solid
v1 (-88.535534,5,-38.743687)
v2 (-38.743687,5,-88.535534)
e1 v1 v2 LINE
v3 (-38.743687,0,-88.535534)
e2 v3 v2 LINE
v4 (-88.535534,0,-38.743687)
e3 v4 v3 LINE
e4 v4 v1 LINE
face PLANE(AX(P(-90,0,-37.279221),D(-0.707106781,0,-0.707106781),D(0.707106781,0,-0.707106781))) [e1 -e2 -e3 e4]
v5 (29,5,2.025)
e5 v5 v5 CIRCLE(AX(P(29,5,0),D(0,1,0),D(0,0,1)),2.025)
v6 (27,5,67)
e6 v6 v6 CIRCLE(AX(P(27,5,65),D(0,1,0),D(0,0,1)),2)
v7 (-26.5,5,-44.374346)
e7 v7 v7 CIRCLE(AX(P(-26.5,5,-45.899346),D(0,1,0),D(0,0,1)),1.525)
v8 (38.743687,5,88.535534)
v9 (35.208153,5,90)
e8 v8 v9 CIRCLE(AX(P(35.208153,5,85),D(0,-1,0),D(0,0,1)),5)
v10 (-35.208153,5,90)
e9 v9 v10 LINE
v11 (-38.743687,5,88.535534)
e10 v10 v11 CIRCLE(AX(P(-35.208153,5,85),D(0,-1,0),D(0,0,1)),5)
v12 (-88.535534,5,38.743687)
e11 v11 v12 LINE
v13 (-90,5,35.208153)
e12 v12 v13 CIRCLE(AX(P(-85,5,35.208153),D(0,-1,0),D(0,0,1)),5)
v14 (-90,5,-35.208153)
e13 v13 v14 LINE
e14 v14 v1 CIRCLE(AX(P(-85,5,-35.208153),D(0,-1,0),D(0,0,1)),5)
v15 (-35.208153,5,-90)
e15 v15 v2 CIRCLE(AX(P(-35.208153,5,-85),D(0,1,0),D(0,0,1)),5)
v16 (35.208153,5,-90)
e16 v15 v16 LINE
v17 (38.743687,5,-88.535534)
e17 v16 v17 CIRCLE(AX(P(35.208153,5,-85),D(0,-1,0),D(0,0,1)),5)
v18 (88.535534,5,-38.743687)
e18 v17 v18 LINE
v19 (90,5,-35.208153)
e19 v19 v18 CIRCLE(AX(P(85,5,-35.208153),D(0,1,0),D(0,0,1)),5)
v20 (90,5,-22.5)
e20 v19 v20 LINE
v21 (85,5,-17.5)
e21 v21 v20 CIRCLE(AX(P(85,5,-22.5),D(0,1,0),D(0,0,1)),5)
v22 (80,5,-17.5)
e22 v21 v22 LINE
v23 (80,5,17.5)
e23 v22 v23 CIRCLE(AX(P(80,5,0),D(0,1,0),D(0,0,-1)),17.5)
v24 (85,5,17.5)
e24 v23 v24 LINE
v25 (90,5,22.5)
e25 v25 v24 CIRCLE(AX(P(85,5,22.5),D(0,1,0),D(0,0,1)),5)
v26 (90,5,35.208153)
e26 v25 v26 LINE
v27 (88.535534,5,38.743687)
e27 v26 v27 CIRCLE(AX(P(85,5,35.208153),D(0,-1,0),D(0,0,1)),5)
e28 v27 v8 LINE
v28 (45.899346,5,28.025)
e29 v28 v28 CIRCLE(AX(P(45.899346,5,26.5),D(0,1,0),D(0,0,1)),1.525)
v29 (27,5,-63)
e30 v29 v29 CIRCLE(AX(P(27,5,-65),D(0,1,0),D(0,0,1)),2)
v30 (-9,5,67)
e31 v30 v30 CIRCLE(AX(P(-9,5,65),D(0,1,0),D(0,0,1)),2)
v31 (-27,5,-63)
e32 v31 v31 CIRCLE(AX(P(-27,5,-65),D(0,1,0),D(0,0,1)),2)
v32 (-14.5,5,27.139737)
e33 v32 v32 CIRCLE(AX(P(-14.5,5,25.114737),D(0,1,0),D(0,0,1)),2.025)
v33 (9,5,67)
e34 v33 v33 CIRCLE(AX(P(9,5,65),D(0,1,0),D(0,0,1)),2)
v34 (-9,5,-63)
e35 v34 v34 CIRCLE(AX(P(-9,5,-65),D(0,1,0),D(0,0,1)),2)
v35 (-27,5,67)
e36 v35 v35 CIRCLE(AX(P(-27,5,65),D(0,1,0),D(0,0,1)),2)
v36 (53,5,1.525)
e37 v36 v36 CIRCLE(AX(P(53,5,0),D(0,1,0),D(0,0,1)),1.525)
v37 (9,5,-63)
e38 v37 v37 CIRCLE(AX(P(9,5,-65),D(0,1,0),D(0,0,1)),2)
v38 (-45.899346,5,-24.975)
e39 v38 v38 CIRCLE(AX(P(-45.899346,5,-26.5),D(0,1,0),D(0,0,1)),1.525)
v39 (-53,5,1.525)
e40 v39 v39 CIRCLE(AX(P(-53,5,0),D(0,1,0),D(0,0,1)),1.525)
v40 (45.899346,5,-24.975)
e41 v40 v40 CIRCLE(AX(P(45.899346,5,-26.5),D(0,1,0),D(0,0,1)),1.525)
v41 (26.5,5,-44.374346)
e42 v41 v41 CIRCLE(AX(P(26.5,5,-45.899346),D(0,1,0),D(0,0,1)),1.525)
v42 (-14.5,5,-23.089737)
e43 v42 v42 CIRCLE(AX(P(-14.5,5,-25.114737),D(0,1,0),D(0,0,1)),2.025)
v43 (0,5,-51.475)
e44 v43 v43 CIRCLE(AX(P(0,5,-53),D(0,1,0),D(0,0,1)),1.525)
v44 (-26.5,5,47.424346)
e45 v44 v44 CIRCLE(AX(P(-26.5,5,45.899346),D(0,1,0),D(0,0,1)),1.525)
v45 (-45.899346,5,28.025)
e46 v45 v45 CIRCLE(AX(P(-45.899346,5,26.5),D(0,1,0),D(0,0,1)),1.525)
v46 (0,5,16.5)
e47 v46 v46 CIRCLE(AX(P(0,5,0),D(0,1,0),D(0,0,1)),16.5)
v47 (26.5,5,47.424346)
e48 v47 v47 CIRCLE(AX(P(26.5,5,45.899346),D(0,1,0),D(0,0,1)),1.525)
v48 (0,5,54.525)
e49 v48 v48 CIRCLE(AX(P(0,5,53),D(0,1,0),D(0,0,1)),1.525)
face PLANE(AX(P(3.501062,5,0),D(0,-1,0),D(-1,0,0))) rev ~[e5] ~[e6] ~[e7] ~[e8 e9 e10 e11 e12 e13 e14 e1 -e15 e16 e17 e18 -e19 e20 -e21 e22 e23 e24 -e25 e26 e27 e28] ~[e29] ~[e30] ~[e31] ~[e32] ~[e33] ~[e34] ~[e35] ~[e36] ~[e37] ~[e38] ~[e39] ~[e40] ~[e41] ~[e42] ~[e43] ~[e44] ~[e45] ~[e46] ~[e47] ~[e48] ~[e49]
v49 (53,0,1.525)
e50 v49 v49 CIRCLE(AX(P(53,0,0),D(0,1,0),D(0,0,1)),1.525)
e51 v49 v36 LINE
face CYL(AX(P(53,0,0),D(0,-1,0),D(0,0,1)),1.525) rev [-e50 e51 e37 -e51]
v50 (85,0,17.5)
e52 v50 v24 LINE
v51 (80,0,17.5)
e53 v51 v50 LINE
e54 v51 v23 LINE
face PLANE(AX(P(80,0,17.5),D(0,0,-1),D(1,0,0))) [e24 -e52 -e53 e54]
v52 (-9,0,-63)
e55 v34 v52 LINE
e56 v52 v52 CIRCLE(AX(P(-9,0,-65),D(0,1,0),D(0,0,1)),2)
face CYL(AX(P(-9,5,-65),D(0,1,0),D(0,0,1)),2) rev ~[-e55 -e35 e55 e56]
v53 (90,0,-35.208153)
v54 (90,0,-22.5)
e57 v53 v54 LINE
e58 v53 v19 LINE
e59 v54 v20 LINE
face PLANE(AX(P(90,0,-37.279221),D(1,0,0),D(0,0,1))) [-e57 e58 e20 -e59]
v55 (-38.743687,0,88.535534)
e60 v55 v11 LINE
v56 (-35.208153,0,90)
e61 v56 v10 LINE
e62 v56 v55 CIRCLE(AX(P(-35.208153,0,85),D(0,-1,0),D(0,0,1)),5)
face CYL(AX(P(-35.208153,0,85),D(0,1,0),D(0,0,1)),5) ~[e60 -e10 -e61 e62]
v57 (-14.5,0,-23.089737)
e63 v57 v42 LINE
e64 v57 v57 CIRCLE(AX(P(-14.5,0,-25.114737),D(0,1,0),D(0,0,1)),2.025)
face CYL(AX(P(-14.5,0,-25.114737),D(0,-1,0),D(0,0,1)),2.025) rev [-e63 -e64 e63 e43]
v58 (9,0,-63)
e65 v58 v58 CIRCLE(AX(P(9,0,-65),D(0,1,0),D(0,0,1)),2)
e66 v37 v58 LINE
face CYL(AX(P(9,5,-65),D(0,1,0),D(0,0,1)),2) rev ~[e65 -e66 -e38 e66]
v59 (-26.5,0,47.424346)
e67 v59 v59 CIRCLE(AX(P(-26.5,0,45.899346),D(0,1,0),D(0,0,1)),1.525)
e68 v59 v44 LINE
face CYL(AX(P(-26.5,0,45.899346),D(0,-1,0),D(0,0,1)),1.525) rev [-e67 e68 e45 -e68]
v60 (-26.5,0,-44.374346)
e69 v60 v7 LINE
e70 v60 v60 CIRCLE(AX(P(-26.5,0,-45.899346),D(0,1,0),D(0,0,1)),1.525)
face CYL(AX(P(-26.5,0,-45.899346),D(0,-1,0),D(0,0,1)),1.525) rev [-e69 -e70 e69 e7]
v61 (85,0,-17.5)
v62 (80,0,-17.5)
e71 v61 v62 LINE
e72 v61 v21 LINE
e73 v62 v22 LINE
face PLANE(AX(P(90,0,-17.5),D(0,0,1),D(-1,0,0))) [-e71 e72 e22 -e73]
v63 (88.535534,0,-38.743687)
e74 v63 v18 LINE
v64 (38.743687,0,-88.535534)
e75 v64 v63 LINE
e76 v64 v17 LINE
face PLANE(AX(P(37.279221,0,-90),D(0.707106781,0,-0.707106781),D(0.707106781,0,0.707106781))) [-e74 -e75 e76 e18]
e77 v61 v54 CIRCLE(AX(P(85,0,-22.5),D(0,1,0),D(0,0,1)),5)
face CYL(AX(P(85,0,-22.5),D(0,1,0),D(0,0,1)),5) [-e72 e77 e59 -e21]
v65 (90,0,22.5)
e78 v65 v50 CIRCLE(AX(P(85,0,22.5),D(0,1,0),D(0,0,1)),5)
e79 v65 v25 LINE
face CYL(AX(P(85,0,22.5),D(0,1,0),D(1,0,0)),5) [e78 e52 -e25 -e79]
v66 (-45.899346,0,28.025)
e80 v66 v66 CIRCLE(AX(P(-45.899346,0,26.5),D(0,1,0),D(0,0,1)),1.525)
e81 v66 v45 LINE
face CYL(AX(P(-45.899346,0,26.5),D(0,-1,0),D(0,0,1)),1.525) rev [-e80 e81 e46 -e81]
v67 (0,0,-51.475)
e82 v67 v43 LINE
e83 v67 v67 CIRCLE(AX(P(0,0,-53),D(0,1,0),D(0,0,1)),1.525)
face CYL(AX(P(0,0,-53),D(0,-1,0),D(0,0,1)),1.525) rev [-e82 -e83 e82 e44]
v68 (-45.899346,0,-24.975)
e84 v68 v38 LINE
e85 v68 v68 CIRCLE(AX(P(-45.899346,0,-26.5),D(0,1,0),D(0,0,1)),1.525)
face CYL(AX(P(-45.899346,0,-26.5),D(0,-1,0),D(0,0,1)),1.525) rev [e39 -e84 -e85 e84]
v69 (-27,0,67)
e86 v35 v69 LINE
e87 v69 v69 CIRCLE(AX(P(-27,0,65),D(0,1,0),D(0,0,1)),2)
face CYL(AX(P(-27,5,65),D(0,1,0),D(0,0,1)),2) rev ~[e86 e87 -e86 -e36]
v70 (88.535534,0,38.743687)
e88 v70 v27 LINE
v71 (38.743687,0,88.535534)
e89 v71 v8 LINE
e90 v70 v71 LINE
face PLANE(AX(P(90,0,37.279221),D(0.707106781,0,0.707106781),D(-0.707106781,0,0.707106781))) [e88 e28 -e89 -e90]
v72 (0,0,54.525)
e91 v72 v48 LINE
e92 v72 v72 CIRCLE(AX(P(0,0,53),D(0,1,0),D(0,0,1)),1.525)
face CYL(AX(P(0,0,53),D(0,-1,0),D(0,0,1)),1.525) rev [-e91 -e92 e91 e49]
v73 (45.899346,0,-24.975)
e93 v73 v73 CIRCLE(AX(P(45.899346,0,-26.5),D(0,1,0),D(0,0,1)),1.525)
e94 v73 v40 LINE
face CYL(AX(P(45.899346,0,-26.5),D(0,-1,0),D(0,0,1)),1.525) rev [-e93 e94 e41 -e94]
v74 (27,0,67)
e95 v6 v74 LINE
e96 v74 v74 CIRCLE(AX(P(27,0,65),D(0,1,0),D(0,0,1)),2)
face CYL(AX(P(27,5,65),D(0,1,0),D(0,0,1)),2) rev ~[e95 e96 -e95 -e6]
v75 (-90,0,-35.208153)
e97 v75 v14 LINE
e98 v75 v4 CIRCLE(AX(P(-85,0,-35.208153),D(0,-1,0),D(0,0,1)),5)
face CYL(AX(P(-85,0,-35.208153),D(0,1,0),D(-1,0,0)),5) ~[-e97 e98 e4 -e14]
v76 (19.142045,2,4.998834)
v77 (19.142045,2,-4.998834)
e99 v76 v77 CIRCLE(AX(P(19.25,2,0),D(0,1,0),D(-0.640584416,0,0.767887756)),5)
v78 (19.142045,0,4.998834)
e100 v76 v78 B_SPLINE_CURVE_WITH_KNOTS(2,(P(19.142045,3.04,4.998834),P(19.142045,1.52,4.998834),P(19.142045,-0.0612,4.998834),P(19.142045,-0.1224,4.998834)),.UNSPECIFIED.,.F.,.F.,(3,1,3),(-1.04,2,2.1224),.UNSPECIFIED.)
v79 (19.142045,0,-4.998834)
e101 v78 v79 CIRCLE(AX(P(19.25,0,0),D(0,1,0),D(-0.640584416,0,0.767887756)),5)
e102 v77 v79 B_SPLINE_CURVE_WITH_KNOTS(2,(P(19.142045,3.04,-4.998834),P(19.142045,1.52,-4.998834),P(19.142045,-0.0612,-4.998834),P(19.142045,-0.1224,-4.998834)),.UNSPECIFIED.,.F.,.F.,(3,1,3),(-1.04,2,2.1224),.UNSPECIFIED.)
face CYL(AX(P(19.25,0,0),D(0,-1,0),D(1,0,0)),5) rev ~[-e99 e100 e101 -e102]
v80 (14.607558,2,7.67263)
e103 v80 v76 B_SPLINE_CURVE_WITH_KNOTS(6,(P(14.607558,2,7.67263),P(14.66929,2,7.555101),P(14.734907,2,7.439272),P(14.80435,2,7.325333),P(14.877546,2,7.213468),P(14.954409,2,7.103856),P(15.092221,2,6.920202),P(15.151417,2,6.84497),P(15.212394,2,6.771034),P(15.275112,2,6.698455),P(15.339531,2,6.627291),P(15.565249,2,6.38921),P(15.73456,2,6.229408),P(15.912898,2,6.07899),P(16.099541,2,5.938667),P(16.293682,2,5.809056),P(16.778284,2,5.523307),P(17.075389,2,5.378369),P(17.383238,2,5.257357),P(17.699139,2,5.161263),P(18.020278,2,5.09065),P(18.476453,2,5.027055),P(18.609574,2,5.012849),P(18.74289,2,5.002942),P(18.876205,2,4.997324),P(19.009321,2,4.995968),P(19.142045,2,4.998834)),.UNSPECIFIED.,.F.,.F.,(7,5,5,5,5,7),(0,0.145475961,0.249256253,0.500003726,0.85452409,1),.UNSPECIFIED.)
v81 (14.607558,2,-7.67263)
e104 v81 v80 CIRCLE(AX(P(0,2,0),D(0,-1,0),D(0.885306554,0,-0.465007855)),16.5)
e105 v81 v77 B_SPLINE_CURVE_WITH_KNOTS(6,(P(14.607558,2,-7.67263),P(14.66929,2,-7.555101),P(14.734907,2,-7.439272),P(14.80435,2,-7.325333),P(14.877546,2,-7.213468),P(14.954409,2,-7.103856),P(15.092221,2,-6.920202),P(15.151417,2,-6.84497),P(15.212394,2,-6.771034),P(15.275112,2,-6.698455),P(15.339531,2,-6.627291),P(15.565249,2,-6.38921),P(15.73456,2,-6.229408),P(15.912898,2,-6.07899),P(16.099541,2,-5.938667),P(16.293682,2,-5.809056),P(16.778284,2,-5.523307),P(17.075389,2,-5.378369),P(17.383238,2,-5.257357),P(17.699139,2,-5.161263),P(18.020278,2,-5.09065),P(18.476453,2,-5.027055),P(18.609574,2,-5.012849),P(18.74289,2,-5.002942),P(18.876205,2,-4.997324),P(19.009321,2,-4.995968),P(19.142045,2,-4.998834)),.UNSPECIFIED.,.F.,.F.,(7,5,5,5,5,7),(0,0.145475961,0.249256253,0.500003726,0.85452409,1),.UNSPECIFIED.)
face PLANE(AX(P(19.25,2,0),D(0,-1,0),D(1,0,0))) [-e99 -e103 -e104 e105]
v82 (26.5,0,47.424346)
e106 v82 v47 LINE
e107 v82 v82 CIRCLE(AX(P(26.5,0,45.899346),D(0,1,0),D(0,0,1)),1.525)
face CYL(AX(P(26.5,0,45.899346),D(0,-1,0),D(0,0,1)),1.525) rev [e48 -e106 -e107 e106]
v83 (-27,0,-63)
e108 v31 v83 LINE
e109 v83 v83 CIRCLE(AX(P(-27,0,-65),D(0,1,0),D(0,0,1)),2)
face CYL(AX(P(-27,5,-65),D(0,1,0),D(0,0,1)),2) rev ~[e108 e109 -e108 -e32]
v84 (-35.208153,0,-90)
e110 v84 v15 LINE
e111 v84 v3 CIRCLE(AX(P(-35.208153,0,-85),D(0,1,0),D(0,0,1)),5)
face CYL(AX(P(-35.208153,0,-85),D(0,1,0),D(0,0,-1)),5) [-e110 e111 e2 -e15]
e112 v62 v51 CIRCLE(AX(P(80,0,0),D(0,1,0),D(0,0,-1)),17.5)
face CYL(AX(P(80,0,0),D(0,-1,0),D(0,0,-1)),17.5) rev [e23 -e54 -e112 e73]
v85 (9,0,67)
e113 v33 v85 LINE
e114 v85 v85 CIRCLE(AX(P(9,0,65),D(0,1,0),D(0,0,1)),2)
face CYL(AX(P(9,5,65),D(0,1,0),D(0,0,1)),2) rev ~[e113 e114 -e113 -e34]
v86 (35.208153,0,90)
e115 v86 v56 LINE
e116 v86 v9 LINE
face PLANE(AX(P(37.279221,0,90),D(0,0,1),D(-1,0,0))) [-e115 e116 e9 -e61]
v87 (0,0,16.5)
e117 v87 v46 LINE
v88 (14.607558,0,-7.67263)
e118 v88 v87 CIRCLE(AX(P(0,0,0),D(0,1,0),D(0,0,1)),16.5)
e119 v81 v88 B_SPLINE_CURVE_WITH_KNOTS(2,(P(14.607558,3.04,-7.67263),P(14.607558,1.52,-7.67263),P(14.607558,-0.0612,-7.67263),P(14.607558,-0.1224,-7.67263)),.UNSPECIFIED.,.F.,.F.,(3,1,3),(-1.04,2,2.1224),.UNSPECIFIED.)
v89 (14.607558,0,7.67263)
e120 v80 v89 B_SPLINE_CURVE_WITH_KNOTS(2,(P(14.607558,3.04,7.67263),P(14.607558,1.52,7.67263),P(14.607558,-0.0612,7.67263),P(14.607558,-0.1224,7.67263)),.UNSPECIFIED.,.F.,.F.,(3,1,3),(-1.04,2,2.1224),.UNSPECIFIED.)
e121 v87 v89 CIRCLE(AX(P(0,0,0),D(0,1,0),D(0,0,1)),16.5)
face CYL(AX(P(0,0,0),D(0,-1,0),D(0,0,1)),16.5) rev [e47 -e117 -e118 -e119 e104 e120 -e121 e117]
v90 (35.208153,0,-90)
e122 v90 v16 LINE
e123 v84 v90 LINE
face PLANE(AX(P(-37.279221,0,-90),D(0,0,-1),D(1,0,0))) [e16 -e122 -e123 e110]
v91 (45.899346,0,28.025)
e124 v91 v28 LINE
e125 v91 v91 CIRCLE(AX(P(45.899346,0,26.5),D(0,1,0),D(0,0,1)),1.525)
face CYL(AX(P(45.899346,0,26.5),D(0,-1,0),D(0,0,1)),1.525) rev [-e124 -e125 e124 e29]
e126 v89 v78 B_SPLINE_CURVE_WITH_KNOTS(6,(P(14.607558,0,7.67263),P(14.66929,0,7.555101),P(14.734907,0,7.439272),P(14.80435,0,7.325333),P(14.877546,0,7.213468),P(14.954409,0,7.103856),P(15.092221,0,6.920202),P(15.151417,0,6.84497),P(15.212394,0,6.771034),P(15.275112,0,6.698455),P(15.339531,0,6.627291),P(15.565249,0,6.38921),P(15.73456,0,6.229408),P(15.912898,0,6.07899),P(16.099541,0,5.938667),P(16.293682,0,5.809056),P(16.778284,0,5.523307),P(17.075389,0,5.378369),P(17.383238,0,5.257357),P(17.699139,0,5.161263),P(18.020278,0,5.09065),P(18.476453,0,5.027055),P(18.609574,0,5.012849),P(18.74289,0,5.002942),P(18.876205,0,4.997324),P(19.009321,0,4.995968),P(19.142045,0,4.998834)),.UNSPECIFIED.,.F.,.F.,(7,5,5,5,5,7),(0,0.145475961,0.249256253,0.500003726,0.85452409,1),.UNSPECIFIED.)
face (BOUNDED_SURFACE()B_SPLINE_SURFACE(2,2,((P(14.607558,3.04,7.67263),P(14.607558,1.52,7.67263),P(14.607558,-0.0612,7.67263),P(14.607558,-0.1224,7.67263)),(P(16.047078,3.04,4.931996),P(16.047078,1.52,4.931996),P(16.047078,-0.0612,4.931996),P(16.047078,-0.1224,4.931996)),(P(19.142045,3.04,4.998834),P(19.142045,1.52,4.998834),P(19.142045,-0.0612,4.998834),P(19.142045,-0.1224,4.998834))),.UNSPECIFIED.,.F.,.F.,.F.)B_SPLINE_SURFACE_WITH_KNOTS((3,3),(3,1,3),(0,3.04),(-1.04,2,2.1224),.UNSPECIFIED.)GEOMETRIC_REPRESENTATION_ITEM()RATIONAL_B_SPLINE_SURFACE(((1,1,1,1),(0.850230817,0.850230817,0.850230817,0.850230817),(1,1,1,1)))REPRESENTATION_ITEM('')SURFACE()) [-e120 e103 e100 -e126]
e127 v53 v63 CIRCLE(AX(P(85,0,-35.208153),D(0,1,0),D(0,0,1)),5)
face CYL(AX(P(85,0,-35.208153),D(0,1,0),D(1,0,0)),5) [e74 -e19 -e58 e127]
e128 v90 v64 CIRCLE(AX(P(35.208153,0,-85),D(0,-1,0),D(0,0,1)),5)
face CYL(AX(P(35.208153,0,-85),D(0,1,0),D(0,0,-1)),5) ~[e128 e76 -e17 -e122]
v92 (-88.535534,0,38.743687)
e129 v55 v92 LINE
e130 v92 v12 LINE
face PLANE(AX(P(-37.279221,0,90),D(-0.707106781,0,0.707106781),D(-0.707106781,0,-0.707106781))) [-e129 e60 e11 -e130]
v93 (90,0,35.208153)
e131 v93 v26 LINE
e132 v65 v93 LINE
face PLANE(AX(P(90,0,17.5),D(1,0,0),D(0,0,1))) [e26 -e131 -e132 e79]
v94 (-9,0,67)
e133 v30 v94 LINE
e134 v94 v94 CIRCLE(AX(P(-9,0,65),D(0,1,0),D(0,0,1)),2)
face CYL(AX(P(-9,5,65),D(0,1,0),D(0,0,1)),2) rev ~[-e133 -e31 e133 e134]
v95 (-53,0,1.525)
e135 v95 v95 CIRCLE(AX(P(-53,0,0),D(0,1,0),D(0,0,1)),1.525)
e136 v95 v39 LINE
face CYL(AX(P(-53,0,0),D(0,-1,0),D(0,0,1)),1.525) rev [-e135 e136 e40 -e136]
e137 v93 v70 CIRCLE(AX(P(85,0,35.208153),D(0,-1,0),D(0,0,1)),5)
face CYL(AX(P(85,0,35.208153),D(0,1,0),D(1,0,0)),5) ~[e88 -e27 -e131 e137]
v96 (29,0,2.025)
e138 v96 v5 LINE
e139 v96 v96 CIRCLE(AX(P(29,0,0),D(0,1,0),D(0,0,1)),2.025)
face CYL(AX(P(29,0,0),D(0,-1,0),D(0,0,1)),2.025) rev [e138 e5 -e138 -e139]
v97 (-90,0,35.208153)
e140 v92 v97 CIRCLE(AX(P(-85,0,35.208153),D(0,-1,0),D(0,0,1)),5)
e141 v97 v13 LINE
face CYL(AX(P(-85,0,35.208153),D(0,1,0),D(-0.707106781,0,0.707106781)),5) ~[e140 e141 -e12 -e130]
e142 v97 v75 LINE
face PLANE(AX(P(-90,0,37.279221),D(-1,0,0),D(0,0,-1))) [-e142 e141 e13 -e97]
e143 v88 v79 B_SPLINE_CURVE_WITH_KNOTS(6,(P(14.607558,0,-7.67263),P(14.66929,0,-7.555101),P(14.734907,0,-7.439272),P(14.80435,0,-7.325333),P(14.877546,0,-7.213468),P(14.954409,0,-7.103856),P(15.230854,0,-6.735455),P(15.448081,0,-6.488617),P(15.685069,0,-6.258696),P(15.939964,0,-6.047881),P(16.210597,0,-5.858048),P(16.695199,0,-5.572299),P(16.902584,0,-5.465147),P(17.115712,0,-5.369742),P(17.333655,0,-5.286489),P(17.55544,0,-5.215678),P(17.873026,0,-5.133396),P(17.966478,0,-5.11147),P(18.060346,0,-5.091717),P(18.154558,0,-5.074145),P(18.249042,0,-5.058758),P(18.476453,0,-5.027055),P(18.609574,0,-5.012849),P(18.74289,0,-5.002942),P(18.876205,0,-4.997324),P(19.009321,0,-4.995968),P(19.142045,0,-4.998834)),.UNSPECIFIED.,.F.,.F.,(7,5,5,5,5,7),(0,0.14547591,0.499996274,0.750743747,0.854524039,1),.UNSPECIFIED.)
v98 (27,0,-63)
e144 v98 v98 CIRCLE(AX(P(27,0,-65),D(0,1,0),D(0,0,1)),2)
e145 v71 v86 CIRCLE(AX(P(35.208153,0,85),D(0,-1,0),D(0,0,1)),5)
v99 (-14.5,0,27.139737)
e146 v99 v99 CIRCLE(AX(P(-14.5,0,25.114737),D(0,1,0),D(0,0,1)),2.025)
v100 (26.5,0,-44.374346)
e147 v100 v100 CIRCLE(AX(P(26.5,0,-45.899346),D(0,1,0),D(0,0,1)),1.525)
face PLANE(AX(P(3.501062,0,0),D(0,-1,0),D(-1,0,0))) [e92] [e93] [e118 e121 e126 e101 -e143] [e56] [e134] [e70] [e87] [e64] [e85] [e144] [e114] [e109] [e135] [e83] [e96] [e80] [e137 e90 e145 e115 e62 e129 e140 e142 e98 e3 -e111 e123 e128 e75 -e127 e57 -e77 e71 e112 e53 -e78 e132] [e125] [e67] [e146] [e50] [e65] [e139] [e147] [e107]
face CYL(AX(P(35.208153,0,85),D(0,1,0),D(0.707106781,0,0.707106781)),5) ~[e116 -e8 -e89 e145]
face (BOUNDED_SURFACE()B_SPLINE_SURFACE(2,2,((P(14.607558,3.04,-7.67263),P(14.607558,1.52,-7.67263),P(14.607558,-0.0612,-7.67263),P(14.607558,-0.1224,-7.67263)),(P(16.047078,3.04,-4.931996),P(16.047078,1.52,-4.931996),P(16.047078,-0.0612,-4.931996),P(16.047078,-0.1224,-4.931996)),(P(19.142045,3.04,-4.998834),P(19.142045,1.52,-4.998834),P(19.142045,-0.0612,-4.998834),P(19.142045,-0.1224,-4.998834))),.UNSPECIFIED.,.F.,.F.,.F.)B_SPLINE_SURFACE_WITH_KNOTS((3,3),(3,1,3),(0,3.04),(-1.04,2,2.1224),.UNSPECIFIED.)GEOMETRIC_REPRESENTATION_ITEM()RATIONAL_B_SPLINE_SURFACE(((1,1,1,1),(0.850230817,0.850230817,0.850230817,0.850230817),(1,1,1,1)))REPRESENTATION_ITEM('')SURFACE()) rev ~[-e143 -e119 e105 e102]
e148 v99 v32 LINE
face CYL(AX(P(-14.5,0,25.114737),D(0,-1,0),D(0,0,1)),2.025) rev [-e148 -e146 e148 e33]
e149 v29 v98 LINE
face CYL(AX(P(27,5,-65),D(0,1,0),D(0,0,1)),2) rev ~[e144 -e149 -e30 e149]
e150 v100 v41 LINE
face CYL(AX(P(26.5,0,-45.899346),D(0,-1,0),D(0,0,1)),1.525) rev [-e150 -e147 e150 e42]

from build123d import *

# Parameters (mm, degrees)
SKETCH_1_R          = 16.5
SKETCH_1_R_2        = 2.025
SKETCH_1_R_3        = 1.525
EXTRUDE_1_DEPTH     = 5
SKETCH_2_R          = 5
CUT_EXTRUDE_1_DEPTH = 2
FILLET_1_R          = 5
SKETCH_3_R          = 2
CUT_EXTRUDE_2_DEPTH = 10


with BuildPart() as part:
    # 草图1 → 凸台-拉伸1 (new body)
    with BuildSketch(Plane(origin=(0, 0, 0), x_dir=(1, 0, 0), z_dir=(0, 1, 0))):
        with BuildLine():
            Line((-37.279220614, 90), (37.279220614, 90))
            Line((37.279220614, 90), (90, 37.279220614))
            Line((90, 37.279220614), (90, 17.5))
            Line((90, 17.5), (80, 17.5))
            ThreePointArc((80, 17.5), (62.5, 0), (80, -17.5))
            Line((80, -17.5), (90, -17.5))
            Line((90, -17.5), (90, -37.279220614))
            Line((90, -37.279220614), (37.279220614, -90))
            Line((37.279220614, -90), (-37.279220614, -90))
            Line((-37.279220614, -90), (-90, -37.279220614))
            Line((-90, -37.279220614), (-90, 37.279220614))
            Line((-90, 37.279220614), (-37.279220614, 90))
        make_face()
        with Locations(Location((0, 0, 0), (0, 0, 270))):
            Circle(SKETCH_1_R, mode=Mode.SUBTRACT)
        with Locations(Location((29, 0, 0), (0, 0, 270))):
            Circle(SKETCH_1_R_2, mode=Mode.SUBTRACT)
        with Locations(Location((-14.5, -25.11473671, 0), (0, 0, 270))):
            Circle(SKETCH_1_R_2, mode=Mode.SUBTRACT)
        with Locations(Location((-14.5, 25.11473671, 0), (0, 0, 270))):
            Circle(SKETCH_1_R_2, mode=Mode.SUBTRACT)
        with Locations(Location((0, 53, 0), (0, 0, 270))):
            Circle(SKETCH_1_R_3, mode=Mode.SUBTRACT)
        with Locations(Location((26.5, 45.899346401, 0), (0, 0, 270))):
            Circle(SKETCH_1_R_3, mode=Mode.SUBTRACT)
        with Locations(Location((45.899346401, 26.5, 0), (0, 0, 270))):
            Circle(SKETCH_1_R_3, mode=Mode.SUBTRACT)
        with Locations(Location((53, 0, 0), (0, 0, 270))):
            Circle(SKETCH_1_R_3, mode=Mode.SUBTRACT)
        with Locations(Location((45.899346401, -26.5, 0), (0, 0, 270))):
            Circle(SKETCH_1_R_3, mode=Mode.SUBTRACT)
        with Locations(Location((26.5, -45.899346401, 0), (0, 0, 270))):
            Circle(SKETCH_1_R_3, mode=Mode.SUBTRACT)
        with Locations(Location((0, -53, 0), (0, 0, 270))):
            Circle(SKETCH_1_R_3, mode=Mode.SUBTRACT)
        with Locations(Location((-26.5, -45.899346401, 0), (0, 0, 270))):
            Circle(SKETCH_1_R_3, mode=Mode.SUBTRACT)
        with Locations(Location((-45.899346401, -26.5, 0), (0, 0, 270))):
            Circle(SKETCH_1_R_3, mode=Mode.SUBTRACT)
        with Locations(Location((-53, 0, 0), (0, 0, 270))):
            Circle(SKETCH_1_R_3, mode=Mode.SUBTRACT)
        with Locations(Location((-45.899346401, 26.5, 0), (0, 0, 270))):
            Circle(SKETCH_1_R_3, mode=Mode.SUBTRACT)
        with Locations(Location((-26.5, 45.899346401, 0), (0, 0, 270))):
            Circle(SKETCH_1_R_3, mode=Mode.SUBTRACT)
    extrude(amount=EXTRUDE_1_DEPTH)

    # 草图2 → 切除-拉伸1 (cut)
    with BuildSketch(Plane.XZ):
        with Locations((19.25, 0)):
            Circle(SKETCH_2_R)
    extrude(amount=-CUT_EXTRUDE_1_DEPTH, mode=Mode.SUBTRACT)

    # 圆角1
    fillet_1_edges = [part.edges().sort_by_distance(p)[0] for p in [
        (16.047077922, 1, -3.839438782),
        (16.047077922, 1, 3.839438782),
        (-37.279220614, 2.5, -90),
        (37.279220614, 2.5, -90),
        (90, 2.5, -37.279220614),
        (90, 2.5, -17.5),
        (90, 2.5, 17.5),
        (90, 2.5, 37.279220614),
        (37.279220614, 2.5, 90),
        (-37.279220614, 2.5, 90),
        (-90, 2.5, 37.279220614),
        (-90, 2.5, -37.279220614),
    ]]
    fillet(fillet_1_edges, radius=FILLET_1_R)

    # 草图3 → 切除-拉伸2 (cut)
    with BuildSketch(Plane(origin=(0, 5, 0), x_dir=(1, 0, 0), z_dir=(0, 1, 0))):
        with Locations(Location((27, -65, 0), (0, 0, 270))):
            Circle(SKETCH_3_R)
        with Locations(Location((9, -65, 0), (0, 0, 270))):
            Circle(SKETCH_3_R)
        with Locations(Location((-27, -65, 0), (0, 0, 270))):
            Circle(SKETCH_3_R)
        with Locations(Location((-9, -65, 0), (0, 0, 270))):
            Circle(SKETCH_3_R)
        with Locations(Location((27, 65, 0), (0, 0, 270))):
            Circle(SKETCH_3_R)
        with Locations(Location((9, 65, 0), (0, 0, 270))):
            Circle(SKETCH_3_R)
        with Locations(Location((-9, 65, 0), (0, 0, 270))):
            Circle(SKETCH_3_R)
        with Locations(Location((-27, 65, 0), (0, 0, 270))):
            Circle(SKETCH_3_R)
    extrude(amount=-CUT_EXTRUDE_2_DEPTH, mode=Mode.SUBTRACT)


solid = part.part
